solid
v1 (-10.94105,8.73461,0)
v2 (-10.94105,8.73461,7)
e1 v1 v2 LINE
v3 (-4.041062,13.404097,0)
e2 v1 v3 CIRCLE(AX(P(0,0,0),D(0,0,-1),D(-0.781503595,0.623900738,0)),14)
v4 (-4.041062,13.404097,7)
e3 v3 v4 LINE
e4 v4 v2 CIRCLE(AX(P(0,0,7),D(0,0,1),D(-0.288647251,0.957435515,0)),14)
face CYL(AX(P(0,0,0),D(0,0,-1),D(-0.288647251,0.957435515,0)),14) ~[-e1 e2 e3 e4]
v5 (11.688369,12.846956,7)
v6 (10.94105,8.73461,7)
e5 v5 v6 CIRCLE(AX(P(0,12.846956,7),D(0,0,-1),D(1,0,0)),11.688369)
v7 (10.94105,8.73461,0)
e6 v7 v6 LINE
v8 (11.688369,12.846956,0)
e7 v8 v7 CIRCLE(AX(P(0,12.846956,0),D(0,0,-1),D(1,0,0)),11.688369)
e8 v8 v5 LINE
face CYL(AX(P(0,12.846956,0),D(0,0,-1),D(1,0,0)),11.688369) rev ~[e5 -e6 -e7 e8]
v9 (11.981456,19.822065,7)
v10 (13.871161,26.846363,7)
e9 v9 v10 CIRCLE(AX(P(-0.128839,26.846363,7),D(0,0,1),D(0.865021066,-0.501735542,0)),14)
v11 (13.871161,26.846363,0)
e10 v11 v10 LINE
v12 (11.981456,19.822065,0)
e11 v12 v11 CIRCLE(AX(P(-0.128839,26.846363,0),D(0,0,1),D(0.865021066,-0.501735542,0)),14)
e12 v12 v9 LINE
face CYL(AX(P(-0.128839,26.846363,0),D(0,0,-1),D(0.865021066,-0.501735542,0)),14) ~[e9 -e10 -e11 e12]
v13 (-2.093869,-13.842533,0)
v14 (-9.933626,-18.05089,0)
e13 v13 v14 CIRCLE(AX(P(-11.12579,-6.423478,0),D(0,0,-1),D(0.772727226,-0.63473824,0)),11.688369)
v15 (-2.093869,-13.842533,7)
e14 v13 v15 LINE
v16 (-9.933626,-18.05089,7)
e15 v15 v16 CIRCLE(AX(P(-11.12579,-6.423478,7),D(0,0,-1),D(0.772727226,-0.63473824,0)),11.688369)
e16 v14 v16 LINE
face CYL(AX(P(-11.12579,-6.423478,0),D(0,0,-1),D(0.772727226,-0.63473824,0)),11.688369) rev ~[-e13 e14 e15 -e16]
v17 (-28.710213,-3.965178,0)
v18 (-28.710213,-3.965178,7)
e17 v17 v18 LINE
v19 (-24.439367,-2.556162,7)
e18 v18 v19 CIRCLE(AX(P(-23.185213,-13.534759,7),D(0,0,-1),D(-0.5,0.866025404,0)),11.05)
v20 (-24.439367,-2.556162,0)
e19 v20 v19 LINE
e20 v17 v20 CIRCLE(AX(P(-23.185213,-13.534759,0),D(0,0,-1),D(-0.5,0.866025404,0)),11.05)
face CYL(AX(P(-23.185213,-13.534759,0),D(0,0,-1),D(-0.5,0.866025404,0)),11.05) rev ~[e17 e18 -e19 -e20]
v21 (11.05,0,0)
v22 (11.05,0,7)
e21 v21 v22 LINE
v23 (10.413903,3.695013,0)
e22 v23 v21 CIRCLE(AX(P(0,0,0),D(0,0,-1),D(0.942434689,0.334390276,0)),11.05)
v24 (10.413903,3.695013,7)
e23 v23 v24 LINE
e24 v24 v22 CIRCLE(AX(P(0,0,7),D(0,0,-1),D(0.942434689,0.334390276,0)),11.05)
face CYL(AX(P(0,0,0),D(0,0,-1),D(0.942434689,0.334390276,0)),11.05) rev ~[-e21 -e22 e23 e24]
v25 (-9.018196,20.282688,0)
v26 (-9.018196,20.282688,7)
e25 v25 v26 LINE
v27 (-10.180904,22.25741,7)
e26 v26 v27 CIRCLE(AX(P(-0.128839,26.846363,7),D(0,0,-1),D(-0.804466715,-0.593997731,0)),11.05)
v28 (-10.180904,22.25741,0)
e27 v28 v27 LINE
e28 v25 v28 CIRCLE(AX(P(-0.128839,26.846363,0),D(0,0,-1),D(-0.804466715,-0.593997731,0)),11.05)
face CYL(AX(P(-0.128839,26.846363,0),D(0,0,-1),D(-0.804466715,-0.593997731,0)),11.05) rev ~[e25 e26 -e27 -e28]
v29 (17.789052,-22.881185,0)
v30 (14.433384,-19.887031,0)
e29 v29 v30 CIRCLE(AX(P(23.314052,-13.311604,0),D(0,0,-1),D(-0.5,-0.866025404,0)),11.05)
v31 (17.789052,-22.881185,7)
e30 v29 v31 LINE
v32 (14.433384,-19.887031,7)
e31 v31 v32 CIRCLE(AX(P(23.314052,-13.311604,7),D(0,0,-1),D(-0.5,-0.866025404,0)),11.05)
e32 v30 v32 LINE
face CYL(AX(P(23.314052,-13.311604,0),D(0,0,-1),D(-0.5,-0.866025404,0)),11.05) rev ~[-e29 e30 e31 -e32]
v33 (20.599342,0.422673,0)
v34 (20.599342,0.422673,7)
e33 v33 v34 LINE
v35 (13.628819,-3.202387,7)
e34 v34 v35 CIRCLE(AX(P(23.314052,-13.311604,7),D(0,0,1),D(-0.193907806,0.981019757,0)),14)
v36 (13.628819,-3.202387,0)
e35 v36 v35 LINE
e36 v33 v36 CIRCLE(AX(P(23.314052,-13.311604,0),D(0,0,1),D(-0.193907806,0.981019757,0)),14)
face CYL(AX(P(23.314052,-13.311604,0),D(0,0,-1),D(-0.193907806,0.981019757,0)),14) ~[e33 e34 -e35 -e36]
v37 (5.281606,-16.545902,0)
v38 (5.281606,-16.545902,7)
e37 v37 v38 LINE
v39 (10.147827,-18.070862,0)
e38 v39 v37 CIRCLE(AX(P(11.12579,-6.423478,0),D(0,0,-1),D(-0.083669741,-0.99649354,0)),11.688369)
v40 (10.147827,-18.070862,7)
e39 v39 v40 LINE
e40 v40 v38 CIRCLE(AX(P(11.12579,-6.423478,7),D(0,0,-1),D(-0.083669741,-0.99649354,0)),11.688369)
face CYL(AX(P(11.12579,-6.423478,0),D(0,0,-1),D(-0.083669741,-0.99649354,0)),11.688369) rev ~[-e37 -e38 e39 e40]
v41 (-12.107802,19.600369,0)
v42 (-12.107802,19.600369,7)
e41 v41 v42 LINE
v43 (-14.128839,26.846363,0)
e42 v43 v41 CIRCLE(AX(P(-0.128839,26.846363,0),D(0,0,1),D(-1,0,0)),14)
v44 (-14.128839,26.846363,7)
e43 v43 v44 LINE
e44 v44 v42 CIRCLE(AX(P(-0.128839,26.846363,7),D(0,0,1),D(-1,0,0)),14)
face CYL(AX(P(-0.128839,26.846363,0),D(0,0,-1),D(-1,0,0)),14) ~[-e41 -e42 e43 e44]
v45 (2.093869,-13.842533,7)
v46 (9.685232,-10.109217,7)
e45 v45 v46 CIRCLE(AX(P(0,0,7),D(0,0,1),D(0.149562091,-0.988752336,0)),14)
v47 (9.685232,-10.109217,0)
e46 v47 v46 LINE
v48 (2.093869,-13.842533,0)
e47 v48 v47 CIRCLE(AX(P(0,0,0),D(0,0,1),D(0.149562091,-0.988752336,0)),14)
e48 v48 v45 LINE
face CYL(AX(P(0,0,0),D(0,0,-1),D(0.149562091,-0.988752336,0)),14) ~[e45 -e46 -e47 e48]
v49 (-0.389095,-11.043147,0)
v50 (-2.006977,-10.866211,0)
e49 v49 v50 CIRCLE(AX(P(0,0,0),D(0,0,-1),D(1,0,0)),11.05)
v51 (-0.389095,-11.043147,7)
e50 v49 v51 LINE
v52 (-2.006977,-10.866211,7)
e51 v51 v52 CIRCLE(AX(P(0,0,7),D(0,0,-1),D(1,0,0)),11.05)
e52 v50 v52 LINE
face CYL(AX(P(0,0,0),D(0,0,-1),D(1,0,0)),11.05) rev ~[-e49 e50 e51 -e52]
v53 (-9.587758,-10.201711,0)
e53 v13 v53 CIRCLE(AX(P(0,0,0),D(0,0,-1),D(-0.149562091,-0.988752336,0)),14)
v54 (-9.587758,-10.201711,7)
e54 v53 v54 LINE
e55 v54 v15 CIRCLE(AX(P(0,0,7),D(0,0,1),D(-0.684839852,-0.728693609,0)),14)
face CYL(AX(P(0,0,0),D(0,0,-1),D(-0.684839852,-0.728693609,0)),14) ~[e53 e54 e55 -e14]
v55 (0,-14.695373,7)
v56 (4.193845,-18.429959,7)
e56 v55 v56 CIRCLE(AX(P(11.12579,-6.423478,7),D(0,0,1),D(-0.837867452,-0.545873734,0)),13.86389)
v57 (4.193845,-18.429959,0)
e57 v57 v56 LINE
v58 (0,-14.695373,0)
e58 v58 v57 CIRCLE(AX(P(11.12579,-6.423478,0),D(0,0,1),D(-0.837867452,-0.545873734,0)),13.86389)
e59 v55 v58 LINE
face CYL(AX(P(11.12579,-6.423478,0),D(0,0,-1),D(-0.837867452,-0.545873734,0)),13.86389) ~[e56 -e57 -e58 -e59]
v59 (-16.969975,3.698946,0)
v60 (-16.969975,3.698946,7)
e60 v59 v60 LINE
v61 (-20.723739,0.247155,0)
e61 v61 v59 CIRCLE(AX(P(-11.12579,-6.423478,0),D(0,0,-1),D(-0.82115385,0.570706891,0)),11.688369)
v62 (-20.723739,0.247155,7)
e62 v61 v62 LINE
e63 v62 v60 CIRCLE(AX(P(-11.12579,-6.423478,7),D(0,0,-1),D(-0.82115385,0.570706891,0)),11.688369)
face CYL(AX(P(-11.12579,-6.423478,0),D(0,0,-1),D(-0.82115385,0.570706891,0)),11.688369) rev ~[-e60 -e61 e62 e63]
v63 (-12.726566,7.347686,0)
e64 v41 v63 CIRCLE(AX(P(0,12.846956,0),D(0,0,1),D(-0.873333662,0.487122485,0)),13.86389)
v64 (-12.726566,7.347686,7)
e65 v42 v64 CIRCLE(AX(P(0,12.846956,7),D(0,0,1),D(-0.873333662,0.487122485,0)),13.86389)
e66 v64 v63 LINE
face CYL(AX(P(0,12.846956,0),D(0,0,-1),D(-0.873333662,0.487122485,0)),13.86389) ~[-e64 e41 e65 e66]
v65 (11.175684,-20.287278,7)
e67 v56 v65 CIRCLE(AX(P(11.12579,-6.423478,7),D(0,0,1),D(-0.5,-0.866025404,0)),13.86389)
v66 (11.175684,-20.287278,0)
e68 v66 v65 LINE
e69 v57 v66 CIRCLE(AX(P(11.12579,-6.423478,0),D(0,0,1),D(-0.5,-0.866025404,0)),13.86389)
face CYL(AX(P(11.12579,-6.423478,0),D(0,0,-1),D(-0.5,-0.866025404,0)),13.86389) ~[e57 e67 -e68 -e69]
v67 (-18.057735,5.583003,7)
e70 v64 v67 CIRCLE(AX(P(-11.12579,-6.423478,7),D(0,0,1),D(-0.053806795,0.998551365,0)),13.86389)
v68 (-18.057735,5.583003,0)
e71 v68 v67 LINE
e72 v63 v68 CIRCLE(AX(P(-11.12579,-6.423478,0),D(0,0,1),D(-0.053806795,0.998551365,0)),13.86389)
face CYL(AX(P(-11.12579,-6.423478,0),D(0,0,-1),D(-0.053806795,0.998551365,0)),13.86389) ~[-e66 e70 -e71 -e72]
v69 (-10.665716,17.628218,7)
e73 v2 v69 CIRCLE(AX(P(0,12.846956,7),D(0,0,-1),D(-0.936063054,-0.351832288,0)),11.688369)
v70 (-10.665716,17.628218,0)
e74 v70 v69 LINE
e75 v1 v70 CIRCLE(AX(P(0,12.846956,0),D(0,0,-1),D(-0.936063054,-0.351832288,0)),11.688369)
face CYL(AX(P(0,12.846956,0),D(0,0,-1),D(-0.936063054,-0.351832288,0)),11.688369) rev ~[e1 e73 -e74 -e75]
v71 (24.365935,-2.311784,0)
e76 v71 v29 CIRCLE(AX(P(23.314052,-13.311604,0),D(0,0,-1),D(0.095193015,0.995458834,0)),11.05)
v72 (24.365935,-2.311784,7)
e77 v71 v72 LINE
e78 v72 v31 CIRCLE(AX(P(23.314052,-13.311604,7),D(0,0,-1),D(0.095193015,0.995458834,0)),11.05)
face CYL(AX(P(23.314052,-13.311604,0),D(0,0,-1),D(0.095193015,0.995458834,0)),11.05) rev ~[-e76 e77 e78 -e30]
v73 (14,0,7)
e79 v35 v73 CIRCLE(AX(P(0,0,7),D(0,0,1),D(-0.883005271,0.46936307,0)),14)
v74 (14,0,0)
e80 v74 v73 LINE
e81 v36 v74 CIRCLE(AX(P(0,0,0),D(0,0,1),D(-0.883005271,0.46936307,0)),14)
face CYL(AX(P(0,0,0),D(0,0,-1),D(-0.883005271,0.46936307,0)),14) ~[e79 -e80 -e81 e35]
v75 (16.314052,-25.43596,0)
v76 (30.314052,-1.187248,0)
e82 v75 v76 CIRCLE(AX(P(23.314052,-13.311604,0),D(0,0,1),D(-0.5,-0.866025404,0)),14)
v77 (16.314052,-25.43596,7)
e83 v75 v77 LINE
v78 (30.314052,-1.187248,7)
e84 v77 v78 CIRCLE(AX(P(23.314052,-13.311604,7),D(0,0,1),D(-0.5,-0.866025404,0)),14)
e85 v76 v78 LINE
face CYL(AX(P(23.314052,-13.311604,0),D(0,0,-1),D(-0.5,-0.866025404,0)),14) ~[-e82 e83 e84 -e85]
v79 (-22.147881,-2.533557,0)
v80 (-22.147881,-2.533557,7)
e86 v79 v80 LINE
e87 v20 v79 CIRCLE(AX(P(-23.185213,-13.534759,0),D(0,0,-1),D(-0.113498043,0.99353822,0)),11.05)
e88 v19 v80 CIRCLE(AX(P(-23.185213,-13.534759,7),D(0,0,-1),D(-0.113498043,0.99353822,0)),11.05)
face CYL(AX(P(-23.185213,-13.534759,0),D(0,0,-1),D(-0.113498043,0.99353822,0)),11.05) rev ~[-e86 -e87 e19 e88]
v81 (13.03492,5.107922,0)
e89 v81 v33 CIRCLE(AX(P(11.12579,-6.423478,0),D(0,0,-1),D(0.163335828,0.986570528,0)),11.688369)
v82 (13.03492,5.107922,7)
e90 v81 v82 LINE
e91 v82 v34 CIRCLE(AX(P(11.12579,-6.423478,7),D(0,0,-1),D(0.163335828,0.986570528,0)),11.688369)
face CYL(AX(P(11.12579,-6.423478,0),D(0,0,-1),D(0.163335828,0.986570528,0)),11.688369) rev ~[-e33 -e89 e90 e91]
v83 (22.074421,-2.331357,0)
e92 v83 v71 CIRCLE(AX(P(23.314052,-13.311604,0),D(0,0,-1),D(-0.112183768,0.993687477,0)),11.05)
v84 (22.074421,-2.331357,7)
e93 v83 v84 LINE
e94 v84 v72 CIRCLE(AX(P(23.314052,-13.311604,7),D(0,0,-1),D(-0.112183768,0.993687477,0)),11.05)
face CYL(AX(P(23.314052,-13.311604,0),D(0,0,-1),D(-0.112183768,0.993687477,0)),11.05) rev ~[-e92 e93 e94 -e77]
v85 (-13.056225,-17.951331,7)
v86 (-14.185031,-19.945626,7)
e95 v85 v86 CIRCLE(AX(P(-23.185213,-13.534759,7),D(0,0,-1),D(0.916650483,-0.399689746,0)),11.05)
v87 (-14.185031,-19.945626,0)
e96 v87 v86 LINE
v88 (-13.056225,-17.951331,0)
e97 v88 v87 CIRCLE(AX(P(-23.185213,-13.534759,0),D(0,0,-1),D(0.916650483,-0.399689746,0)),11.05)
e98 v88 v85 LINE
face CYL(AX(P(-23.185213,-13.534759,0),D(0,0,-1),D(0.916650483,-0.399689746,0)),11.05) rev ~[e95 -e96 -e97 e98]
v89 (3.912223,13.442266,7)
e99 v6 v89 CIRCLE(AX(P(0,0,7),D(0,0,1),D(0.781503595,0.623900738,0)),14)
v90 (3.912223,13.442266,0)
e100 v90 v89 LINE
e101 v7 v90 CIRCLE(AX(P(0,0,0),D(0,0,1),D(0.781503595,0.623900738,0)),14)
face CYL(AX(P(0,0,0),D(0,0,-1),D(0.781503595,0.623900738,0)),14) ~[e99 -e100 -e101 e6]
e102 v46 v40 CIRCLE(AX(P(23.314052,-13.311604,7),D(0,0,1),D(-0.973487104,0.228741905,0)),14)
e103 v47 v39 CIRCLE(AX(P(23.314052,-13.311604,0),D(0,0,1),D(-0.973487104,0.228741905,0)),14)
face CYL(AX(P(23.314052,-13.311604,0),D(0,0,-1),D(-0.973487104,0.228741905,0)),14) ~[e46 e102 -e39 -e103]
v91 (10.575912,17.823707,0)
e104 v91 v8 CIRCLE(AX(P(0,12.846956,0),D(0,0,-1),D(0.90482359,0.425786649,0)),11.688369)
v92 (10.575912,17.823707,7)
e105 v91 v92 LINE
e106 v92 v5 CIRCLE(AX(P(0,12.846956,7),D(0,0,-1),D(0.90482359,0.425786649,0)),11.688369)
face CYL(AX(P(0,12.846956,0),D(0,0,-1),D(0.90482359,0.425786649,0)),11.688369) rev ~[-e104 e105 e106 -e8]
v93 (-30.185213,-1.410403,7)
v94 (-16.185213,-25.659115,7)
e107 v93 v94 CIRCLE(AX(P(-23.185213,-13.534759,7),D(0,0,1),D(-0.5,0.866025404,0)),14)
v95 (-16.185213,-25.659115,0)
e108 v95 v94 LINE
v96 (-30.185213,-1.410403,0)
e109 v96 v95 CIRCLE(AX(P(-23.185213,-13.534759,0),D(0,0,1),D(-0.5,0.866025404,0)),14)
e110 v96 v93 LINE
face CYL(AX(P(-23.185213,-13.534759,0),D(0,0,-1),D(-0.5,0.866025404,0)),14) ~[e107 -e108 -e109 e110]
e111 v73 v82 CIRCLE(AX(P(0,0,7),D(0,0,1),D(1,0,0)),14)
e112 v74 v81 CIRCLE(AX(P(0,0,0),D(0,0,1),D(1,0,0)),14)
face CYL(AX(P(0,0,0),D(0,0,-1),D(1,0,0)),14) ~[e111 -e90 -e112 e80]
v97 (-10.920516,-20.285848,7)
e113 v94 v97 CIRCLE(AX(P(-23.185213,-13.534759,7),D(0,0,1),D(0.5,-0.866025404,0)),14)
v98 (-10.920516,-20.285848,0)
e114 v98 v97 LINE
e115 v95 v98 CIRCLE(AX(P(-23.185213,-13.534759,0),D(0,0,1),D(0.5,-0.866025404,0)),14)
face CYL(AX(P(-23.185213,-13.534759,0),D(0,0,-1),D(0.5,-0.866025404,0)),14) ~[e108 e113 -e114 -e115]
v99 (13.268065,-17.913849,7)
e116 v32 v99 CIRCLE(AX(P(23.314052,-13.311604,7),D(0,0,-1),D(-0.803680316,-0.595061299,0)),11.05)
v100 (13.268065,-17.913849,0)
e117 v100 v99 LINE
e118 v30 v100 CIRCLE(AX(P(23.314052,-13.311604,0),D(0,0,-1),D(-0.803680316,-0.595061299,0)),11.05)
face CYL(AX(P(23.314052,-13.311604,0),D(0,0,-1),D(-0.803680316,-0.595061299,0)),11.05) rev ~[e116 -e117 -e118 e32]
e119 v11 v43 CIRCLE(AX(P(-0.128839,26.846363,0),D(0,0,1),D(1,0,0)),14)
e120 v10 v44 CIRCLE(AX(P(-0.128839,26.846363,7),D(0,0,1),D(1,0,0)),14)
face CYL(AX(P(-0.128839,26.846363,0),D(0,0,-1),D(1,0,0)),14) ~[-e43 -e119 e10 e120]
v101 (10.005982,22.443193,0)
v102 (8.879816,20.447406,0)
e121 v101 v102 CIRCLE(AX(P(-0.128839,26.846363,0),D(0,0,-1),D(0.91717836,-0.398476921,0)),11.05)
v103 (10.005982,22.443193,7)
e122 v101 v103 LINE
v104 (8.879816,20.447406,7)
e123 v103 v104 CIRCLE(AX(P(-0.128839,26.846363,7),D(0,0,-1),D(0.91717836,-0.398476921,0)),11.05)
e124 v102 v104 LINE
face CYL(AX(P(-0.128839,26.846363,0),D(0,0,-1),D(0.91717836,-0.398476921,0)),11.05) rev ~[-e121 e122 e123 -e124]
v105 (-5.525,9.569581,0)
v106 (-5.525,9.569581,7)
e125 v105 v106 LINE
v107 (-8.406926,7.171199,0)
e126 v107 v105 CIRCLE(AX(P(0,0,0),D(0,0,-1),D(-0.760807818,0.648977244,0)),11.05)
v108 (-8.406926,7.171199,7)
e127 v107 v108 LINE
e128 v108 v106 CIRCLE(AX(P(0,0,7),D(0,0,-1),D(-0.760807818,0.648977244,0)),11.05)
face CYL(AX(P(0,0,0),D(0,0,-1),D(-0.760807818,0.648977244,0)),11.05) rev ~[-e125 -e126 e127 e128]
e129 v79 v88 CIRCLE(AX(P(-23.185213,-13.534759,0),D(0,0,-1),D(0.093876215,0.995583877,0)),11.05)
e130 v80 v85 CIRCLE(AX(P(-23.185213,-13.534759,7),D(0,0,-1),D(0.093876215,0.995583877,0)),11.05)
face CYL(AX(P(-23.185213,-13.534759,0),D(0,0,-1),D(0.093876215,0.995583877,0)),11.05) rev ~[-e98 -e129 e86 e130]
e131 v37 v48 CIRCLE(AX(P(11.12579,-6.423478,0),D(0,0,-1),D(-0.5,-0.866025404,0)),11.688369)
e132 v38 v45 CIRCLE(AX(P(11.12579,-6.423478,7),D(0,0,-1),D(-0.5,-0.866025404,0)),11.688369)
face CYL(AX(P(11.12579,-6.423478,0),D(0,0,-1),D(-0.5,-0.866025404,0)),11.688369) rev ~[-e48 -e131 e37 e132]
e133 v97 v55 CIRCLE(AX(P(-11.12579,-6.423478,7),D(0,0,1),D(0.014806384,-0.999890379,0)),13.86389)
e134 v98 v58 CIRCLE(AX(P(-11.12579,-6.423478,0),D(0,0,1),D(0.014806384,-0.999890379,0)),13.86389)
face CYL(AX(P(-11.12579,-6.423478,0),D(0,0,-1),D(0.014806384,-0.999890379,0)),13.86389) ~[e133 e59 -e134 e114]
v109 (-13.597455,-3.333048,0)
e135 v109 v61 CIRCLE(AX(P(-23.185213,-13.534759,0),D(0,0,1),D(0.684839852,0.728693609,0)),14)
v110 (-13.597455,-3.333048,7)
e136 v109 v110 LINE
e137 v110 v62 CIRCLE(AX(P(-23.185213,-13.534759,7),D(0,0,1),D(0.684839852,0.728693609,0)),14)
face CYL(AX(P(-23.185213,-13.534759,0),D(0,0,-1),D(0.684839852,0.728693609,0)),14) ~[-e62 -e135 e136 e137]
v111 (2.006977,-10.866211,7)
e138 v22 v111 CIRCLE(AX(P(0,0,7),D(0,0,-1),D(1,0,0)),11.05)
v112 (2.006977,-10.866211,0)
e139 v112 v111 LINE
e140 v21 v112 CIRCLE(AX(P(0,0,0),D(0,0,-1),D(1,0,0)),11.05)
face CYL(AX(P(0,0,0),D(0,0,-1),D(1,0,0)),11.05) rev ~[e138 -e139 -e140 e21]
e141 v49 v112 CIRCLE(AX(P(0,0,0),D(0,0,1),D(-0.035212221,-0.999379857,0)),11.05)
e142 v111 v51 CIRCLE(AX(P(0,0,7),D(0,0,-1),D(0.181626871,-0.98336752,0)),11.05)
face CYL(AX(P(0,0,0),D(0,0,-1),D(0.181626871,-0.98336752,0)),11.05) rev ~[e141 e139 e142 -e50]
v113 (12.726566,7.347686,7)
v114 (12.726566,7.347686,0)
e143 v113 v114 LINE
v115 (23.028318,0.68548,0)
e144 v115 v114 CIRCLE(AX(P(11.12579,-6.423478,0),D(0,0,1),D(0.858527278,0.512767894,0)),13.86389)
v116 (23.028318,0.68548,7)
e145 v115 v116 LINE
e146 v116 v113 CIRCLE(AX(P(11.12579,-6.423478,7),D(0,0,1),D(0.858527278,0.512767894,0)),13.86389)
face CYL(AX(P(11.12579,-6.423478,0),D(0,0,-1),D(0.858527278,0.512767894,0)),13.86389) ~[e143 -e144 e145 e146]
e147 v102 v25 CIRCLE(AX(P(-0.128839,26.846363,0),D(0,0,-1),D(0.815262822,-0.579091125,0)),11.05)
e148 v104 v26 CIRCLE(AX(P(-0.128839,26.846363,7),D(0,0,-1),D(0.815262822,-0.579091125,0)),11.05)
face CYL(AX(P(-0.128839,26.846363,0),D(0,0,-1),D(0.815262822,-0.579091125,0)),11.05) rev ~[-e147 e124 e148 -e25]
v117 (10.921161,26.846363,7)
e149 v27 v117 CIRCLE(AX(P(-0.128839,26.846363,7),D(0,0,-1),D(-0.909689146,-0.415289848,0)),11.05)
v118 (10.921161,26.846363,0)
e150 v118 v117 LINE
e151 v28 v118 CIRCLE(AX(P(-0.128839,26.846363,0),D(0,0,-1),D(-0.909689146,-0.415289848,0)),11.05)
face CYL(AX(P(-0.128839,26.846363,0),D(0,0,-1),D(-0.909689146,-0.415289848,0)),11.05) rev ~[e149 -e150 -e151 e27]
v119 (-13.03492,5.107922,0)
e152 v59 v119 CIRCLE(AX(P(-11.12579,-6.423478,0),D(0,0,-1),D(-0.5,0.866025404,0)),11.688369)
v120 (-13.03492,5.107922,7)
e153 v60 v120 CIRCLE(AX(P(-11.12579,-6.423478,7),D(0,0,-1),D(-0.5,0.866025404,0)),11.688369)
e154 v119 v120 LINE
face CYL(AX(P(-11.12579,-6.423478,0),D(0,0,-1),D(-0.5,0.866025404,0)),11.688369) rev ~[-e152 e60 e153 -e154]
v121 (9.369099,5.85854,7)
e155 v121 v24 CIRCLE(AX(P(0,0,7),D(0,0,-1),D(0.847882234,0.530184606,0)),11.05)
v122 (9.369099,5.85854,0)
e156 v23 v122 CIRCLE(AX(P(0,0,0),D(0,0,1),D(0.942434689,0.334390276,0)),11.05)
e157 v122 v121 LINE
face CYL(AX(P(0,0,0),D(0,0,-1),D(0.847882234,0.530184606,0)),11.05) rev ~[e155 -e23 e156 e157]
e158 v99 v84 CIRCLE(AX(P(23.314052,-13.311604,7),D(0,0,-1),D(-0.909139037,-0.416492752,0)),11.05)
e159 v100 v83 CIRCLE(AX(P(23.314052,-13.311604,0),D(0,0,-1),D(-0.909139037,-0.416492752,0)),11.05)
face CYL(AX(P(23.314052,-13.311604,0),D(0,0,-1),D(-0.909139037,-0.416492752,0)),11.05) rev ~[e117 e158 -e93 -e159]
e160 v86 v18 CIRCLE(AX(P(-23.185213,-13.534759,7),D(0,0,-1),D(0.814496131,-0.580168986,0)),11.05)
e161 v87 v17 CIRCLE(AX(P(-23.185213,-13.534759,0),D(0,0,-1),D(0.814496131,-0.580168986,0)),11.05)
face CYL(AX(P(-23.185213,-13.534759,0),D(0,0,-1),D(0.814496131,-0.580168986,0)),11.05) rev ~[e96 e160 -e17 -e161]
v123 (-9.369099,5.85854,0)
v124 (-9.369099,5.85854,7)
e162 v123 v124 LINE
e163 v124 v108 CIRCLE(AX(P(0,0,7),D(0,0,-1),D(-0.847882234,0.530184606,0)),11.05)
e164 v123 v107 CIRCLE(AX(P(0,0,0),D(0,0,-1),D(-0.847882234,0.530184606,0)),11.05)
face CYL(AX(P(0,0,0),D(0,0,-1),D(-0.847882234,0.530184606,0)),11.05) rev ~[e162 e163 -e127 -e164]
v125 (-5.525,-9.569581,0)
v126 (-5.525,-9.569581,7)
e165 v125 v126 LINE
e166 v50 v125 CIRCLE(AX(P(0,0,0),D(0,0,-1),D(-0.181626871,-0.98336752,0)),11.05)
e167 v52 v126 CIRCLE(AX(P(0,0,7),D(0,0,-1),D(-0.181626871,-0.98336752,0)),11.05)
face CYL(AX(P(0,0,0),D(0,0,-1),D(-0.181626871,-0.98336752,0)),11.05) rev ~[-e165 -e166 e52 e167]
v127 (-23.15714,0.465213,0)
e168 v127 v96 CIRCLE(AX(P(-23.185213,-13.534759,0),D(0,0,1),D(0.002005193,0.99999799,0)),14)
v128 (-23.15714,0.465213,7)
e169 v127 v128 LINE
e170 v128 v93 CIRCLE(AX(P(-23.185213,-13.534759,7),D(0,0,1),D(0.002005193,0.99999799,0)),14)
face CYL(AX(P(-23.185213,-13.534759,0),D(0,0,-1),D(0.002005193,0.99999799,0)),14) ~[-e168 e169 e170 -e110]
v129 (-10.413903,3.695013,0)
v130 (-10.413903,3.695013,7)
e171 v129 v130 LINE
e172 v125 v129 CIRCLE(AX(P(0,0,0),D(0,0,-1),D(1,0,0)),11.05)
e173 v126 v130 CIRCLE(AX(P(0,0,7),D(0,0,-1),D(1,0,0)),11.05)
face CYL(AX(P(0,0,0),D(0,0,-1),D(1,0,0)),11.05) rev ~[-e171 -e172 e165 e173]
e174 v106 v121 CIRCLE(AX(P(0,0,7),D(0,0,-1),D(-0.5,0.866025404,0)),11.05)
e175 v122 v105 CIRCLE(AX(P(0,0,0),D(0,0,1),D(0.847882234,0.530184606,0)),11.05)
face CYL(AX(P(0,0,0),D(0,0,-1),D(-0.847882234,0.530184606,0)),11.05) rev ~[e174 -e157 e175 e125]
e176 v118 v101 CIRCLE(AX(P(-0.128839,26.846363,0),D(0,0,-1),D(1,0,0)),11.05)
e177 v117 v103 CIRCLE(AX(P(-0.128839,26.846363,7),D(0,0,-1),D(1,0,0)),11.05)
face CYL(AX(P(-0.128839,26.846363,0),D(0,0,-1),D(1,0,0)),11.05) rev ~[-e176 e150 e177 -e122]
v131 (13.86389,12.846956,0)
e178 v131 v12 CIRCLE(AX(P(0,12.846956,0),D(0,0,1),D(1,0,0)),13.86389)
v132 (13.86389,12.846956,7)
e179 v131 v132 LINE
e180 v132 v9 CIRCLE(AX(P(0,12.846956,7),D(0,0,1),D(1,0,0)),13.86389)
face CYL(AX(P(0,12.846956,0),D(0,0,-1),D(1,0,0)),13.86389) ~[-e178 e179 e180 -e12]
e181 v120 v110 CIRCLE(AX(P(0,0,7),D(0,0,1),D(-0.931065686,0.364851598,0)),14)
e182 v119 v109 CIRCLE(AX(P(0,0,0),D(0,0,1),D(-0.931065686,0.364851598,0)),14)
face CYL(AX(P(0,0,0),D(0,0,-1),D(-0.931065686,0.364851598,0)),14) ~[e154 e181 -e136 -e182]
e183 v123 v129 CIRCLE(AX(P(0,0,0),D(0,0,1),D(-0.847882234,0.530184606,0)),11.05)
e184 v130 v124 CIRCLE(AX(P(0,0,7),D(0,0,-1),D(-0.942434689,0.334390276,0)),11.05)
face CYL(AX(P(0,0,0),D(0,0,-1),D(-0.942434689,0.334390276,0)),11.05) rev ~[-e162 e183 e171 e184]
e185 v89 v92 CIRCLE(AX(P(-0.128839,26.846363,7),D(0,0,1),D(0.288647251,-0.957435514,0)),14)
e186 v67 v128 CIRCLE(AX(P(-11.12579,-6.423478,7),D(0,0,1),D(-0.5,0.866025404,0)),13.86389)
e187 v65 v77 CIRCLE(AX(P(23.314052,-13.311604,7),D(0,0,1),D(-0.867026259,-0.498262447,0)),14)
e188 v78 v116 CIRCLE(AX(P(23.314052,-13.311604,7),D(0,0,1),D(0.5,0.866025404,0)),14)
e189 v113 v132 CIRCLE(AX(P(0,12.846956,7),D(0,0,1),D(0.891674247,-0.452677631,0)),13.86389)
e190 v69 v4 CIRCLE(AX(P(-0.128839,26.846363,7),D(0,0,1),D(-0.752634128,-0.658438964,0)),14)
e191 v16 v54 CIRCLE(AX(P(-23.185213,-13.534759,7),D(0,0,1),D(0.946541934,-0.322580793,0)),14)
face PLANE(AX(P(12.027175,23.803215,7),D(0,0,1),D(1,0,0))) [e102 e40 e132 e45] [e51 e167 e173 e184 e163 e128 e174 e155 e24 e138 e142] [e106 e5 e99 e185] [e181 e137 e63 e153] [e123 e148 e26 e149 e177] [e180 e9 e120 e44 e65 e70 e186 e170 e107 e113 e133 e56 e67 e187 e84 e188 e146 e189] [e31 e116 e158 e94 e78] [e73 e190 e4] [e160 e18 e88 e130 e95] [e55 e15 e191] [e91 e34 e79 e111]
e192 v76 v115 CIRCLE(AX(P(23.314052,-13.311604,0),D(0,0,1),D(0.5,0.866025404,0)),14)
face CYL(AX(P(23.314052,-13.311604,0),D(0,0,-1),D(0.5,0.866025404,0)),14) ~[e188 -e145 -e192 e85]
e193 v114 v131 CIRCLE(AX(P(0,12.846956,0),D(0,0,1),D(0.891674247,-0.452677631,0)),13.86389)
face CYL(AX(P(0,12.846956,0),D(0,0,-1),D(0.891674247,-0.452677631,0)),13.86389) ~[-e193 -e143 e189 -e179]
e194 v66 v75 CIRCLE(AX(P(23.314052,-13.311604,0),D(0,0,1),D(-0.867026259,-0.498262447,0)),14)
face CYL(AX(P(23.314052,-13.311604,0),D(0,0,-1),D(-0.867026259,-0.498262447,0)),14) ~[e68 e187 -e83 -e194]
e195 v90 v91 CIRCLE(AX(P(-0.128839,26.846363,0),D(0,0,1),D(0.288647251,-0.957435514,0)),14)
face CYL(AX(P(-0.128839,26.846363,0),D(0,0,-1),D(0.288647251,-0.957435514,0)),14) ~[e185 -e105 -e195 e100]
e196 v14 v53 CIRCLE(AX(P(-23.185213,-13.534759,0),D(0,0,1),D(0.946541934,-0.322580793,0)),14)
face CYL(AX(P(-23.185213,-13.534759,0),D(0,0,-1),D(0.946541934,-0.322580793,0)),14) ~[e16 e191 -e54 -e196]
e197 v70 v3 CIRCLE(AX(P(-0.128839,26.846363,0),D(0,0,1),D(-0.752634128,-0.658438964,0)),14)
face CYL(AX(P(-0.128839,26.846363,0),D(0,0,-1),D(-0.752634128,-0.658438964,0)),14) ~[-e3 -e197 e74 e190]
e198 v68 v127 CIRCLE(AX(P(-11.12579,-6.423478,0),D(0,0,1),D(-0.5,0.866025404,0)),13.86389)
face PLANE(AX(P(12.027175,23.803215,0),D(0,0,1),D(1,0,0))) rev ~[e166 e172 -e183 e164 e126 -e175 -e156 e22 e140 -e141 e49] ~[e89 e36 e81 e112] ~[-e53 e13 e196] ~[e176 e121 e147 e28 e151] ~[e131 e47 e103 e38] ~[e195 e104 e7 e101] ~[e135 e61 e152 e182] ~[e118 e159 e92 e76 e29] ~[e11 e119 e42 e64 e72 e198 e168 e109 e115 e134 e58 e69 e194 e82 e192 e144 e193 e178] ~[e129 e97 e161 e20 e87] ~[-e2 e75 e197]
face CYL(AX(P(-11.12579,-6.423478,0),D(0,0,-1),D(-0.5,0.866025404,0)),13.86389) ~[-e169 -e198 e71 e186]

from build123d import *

# Parameters (mm, degrees)
F1_DEPTH = 7
F2_DEPTH = 7
F3_COUNT = 3


with BuildPart() as f1:
    # F0 (on Top) → F1 (new body)
    with BuildSketch(Plane.XY):
        with BuildLine():
            ThreePointArc((11.9814563539, 19.822065477), (13.3904833189, 23.2093401836), (13.8711614234, 26.8463630714))
            Line((13.8711614234, 26.8463630714), (10.9211614234, 26.8463630714))
            ThreePointArc((10.9211614234, 26.8463630714), (10.6899476462, 24.5977268922), (10.0059822983, 22.4431930958))
            ThreePointArc((10.0059822983, 22.4431930958), (11.0715600581, 21.1912957723), (11.9814563539, 19.822065477))
        make_face()
        with BuildLine():
            Line((10.9211614234, 26.8463630714), (13.8711614234, 26.8463630714))
            ThreePointArc((13.8711614234, 26.8463630714), (-0.1288385766, 40.8463630714), (-14.1288385766, 26.8463630714))
            Line((-14.1288385766, 26.8463630714), (-11.1788385766, 26.8463630714))
            ThreePointArc((-11.1788385766, 26.8463630714), (-0.1288385766, 37.8963630714), (10.9211614234, 26.8463630714))
        make_face()
        with BuildLine():
            Line((-11.1788385766, 26.8463630714), (-14.1288385766, 26.8463630714))
            ThreePointArc((-14.1288385766, 26.8463630714), (-13.6141173472, 23.0850791844), (-12.1078019368, 19.6003685354))
            ThreePointArc((-12.1078019368, 19.6003685354), (-11.2232600764, 20.9861133056), (-10.1809036398, 22.2574102536))
            ThreePointArc((-10.1809036398, 22.2574102536), (-10.9264730154, 24.4982594694), (-11.1788385766, 26.8463630714))
        make_face()
        with BuildLine():
            ThreePointArc((13.8638901362, 12.8469559189), (13.3850110996, 16.4592858558), (11.9814563539, 19.822065477))
            ThreePointArc((11.9814563539, 19.822065477), (11.3223593376, 18.7921674983), (10.5759119571, 17.8237073642))
            ThreePointArc((10.5759119571, 17.8237073642), (11.4068648101, 15.3967409836), (11.6883689483, 12.8469559189))
            ThreePointArc((11.6883689483, 12.8469559189), (11.5000217752, 10.7571071583), (10.9410503341, 8.7346103282))
            ThreePointArc((10.9410503341, 8.7346103282), (11.7016712993, 7.6857588306), (12.3620737952, 6.5710829764))
            ThreePointArc((12.3620737952, 6.5710829764), (13.4832096079, 9.6204239761), (13.8638901362, 12.8469559189))
        make_face()
        with BuildLine():
            ThreePointArc((10.5759119571, 17.8237073642), (11.3223593376, 18.7921674983), (11.9814563539, 19.822065477))
            ThreePointArc((11.9814563539, 19.822065477), (11.0715600581, 21.1912957723), (10.0059822983, 22.4431930958))
            ThreePointArc((10.0059822983, 22.4431930958), (9.4947756455, 21.4160270502), (8.879815604, 20.4474061365))
            ThreePointArc((8.879815604, 20.4474061365), (9.8159198522, 19.1924808087), (10.5759119571, 17.8237073642))
        make_face()
        with BuildLine():
            ThreePointArc((-10.1809036398, 22.2574102536), (-11.2232600764, 20.9861133056), (-12.1078019368, 19.6003685354))
            ThreePointArc((-12.1078019368, 19.6003685354), (-11.4298615634, 18.582775506), (-10.6657163684, 17.6282175746))
            ThreePointArc((-10.6657163684, 17.6282175746), (-9.9310448999, 19.010746625), (-9.0181957741, 20.2826881392))
            ThreePointArc((-9.0181957741, 20.2826881392), (-9.6508788607, 21.239826812), (-10.1809036398, 22.2574102536))
        make_face()
        with BuildLine():
            ThreePointArc((-10.6657163684, 17.6282175746), (-11.4298615634, 18.582775506), (-12.1078019368, 19.6003685354))
            ThreePointArc((-12.1078019368, 19.6003685354), (-13.8612508501, 13.1174639217), (-12.3620737952, 6.5710829764))
            ThreePointArc((-12.3620737952, 6.5710829764), (-11.7016712993, 7.6857588306), (-10.9410503341, 8.7346103282))
            ThreePointArc((-10.9410503341, 8.7346103282), (-11.6827716873, 13.2086386164), (-10.6657163684, 17.6282175746))
        make_face()
        with BuildLine():
            ThreePointArc((-10.4139033154, 3.695012549), (-11.478424483, 5.0717889691), (-12.3620737952, 6.5710829764))
            ThreePointArc((-12.3620737952, 6.5710829764), (-3.3860719771, -13.5843482201), (14, 0))
            ThreePointArc((14, 0), (13.5843482201, 3.3860719771), (12.3620737952, 6.5710829764))
            ThreePointArc((12.3620737952, 6.5710829764), (11.478424483, 5.0717889691), (10.4139033154, 3.695012549))
            ThreePointArc((10.4139033154, 3.695012549), (10.8898147743, 1.8746824217), (11.05, 0))
            ThreePointArc((11.05, 0), (-1.8746824217, -10.8898147743), (-10.4139033154, 3.695012549))
        make_face()
        with BuildLine():
            ThreePointArc((-10.9410503341, 8.7346103282), (-11.7016712993, 7.6857588306), (-12.3620737952, 6.5710829764))
            ThreePointArc((-12.3620737952, 6.5710829764), (-11.478424483, 5.0717889691), (-10.4139033154, 3.695012549))
            ThreePointArc((-10.4139033154, 3.695012549), (-9.9504776126, 4.8052570462), (-9.3690986882, 5.8585399009))
            ThreePointArc((-9.3690986882, 5.8585399009), (-10.2563874539, 7.2412012803), (-10.9410503341, 8.7346103282))
        make_face()
        with BuildLine():
            ThreePointArc((10.4139033154, 3.695012549), (11.478424483, 5.0717889691), (12.3620737952, 6.5710829764))
            ThreePointArc((12.3620737952, 6.5710829764), (11.7016712993, 7.6857588306), (10.9410503341, 8.7346103282))
            ThreePointArc((10.9410503341, 8.7346103282), (10.2563874539, 7.2412012803), (9.3690986882, 5.8585399009))
            ThreePointArc((9.3690986882, 5.8585399009), (9.9504776126, 4.8052570462), (10.4139033154, 3.695012549))
        make_face()
        with BuildLine():
            ThreePointArc((3.9122229389, 13.4422658684), (7.5626502677, 15.1484573034), (10.5759119571, 17.8237073642))
            ThreePointArc((10.5759119571, 17.8237073642), (9.8159198522, 19.1924808087), (8.879815604, 20.4474061365))
            ThreePointArc((8.879815604, 20.4474061365), (-0.0271481286, 15.7968309975), (-9.0181957741, 20.2826881392))
            ThreePointArc((-9.0181957741, 20.2826881392), (-9.9310448999, 19.010746625), (-10.6657163684, 17.6282175746))
            ThreePointArc((-10.6657163684, 17.6282175746), (-7.6557852491, 15.0419116318), (-4.0410615155, 13.404097203))
            ThreePointArc((-4.0410615155, 13.404097203), (-0.0671867283, 13.9998387828), (3.9122229389, 13.4422658684))
        make_face()
        with BuildLine():
            ThreePointArc((10.9410503341, 8.7346103282), (7.7907276234, 11.6320489639), (3.9122229389, 13.4422658684))
            ThreePointArc((3.9122229389, 13.4422658684), (-0.0616518483, 12.8465242886), (-4.0410615155, 13.404097203))
            ThreePointArc((-4.0410615155, 13.404097203), (-7.8464607172, 11.5945269077), (-10.9410503341, 8.7346103282))
            ThreePointArc((-10.9410503341, 8.7346103282), (-10.2563874539, 7.2412012803), (-9.3690986882, 5.8585399009))
            ThreePointArc((-9.3690986882, 5.8585399009), (0, 11.05), (9.3690986882, 5.8585399009))
            ThreePointArc((9.3690986882, 5.8585399009), (10.2563874539, 7.2412012803), (10.9410503341, 8.7346103282))
        make_face()
        with BuildLine():
            ThreePointArc((-4.0410615155, 13.404097203), (-0.0616518483, 12.8465242886), (3.9122229389, 13.4422658684))
            ThreePointArc((3.9122229389, 13.4422658684), (-0.0671867283, 13.9998387828), (-4.0410615155, 13.404097203))
        make_face()
    extrude(amount=F1_DEPTH)

    # F0 (on Top) → F2 (join)
    with BuildSketch(Plane.XY):
        with BuildLine():
            ThreePointArc((11.9814563539, 19.822065477), (13.3904833189, 23.2093401836), (13.8711614234, 26.8463630714))
            Line((13.8711614234, 26.8463630714), (10.9211614234, 26.8463630714))
            ThreePointArc((10.9211614234, 26.8463630714), (10.6899476462, 24.5977268922), (10.0059822983, 22.4431930958))
            ThreePointArc((10.0059822983, 22.4431930958), (11.0715600581, 21.1912957723), (11.9814563539, 19.822065477))
        make_face()
        with BuildLine():
            Line((10.9211614234, 26.8463630714), (13.8711614234, 26.8463630714))
            ThreePointArc((13.8711614234, 26.8463630714), (-0.1288385766, 40.8463630714), (-14.1288385766, 26.8463630714))
            Line((-14.1288385766, 26.8463630714), (-11.1788385766, 26.8463630714))
            ThreePointArc((-11.1788385766, 26.8463630714), (-0.1288385766, 37.8963630714), (10.9211614234, 26.8463630714))
        make_face()
        with BuildLine():
            Line((-11.1788385766, 26.8463630714), (-14.1288385766, 26.8463630714))
            ThreePointArc((-14.1288385766, 26.8463630714), (-13.6141173472, 23.0850791844), (-12.1078019368, 19.6003685354))
            ThreePointArc((-12.1078019368, 19.6003685354), (-11.2232600764, 20.9861133056), (-10.1809036398, 22.2574102536))
            ThreePointArc((-10.1809036398, 22.2574102536), (-10.9264730154, 24.4982594694), (-11.1788385766, 26.8463630714))
        make_face()
        with BuildLine():
            ThreePointArc((13.8638901362, 12.8469559189), (13.3850110996, 16.4592858558), (11.9814563539, 19.822065477))
            ThreePointArc((11.9814563539, 19.822065477), (11.3223593376, 18.7921674983), (10.5759119571, 17.8237073642))
            ThreePointArc((10.5759119571, 17.8237073642), (11.4068648101, 15.3967409836), (11.6883689483, 12.8469559189))
            ThreePointArc((11.6883689483, 12.8469559189), (11.5000217752, 10.7571071583), (10.9410503341, 8.7346103282))
            ThreePointArc((10.9410503341, 8.7346103282), (11.7016712993, 7.6857588306), (12.3620737952, 6.5710829764))
            ThreePointArc((12.3620737952, 6.5710829764), (13.4832096079, 9.6204239761), (13.8638901362, 12.8469559189))
        make_face()
        with BuildLine():
            ThreePointArc((10.5759119571, 17.8237073642), (11.3223593376, 18.7921674983), (11.9814563539, 19.822065477))
            ThreePointArc((11.9814563539, 19.822065477), (11.0715600581, 21.1912957723), (10.0059822983, 22.4431930958))
            ThreePointArc((10.0059822983, 22.4431930958), (9.4947756455, 21.4160270502), (8.879815604, 20.4474061365))
            ThreePointArc((8.879815604, 20.4474061365), (9.8159198522, 19.1924808087), (10.5759119571, 17.8237073642))
        make_face()
        with BuildLine():
            ThreePointArc((-10.1809036398, 22.2574102536), (-11.2232600764, 20.9861133056), (-12.1078019368, 19.6003685354))
            ThreePointArc((-12.1078019368, 19.6003685354), (-11.4298615634, 18.582775506), (-10.6657163684, 17.6282175746))
            ThreePointArc((-10.6657163684, 17.6282175746), (-9.9310448999, 19.010746625), (-9.0181957741, 20.2826881392))
            ThreePointArc((-9.0181957741, 20.2826881392), (-9.6508788607, 21.239826812), (-10.1809036398, 22.2574102536))
        make_face()
        with BuildLine():
            ThreePointArc((-10.6657163684, 17.6282175746), (-11.4298615634, 18.582775506), (-12.1078019368, 19.6003685354))
            ThreePointArc((-12.1078019368, 19.6003685354), (-13.8612508501, 13.1174639217), (-12.3620737952, 6.5710829764))
            ThreePointArc((-12.3620737952, 6.5710829764), (-11.7016712993, 7.6857588306), (-10.9410503341, 8.7346103282))
            ThreePointArc((-10.9410503341, 8.7346103282), (-11.6827716873, 13.2086386164), (-10.6657163684, 17.6282175746))
        make_face()
        with BuildLine():
            ThreePointArc((-10.4139033154, 3.695012549), (-11.478424483, 5.0717889691), (-12.3620737952, 6.5710829764))
            ThreePointArc((-12.3620737952, 6.5710829764), (-3.3860719771, -13.5843482201), (14, 0))
            ThreePointArc((14, 0), (13.5843482201, 3.3860719771), (12.3620737952, 6.5710829764))
            ThreePointArc((12.3620737952, 6.5710829764), (11.478424483, 5.0717889691), (10.4139033154, 3.695012549))
            ThreePointArc((10.4139033154, 3.695012549), (10.8898147743, 1.8746824217), (11.05, 0))
            ThreePointArc((11.05, 0), (-1.8746824217, -10.8898147743), (-10.4139033154, 3.695012549))
        make_face()
        with BuildLine():
            ThreePointArc((-10.9410503341, 8.7346103282), (-11.7016712993, 7.6857588306), (-12.3620737952, 6.5710829764))
            ThreePointArc((-12.3620737952, 6.5710829764), (-11.478424483, 5.0717889691), (-10.4139033154, 3.695012549))
            ThreePointArc((-10.4139033154, 3.695012549), (-9.9504776126, 4.8052570462), (-9.3690986882, 5.8585399009))
            ThreePointArc((-9.3690986882, 5.8585399009), (-10.2563874539, 7.2412012803), (-10.9410503341, 8.7346103282))
        make_face()
        with BuildLine():
            ThreePointArc((10.4139033154, 3.695012549), (11.478424483, 5.0717889691), (12.3620737952, 6.5710829764))
            ThreePointArc((12.3620737952, 6.5710829764), (11.7016712993, 7.6857588306), (10.9410503341, 8.7346103282))
            ThreePointArc((10.9410503341, 8.7346103282), (10.2563874539, 7.2412012803), (9.3690986882, 5.8585399009))
            ThreePointArc((9.3690986882, 5.8585399009), (9.9504776126, 4.8052570462), (10.4139033154, 3.695012549))
        make_face()
    extrude(amount=F2_DEPTH)

    # F3: F1 ×3 about axis
    f3_axis = Axis((0, 0, 0), (0, 0, 1))


with BuildPart() as f1_1:
    add(f1.part)
    for i in range(1, F3_COUNT):
        add(f1.part.rotate(f3_axis, i * 360 / F3_COUNT))


solid = f1_1.part
